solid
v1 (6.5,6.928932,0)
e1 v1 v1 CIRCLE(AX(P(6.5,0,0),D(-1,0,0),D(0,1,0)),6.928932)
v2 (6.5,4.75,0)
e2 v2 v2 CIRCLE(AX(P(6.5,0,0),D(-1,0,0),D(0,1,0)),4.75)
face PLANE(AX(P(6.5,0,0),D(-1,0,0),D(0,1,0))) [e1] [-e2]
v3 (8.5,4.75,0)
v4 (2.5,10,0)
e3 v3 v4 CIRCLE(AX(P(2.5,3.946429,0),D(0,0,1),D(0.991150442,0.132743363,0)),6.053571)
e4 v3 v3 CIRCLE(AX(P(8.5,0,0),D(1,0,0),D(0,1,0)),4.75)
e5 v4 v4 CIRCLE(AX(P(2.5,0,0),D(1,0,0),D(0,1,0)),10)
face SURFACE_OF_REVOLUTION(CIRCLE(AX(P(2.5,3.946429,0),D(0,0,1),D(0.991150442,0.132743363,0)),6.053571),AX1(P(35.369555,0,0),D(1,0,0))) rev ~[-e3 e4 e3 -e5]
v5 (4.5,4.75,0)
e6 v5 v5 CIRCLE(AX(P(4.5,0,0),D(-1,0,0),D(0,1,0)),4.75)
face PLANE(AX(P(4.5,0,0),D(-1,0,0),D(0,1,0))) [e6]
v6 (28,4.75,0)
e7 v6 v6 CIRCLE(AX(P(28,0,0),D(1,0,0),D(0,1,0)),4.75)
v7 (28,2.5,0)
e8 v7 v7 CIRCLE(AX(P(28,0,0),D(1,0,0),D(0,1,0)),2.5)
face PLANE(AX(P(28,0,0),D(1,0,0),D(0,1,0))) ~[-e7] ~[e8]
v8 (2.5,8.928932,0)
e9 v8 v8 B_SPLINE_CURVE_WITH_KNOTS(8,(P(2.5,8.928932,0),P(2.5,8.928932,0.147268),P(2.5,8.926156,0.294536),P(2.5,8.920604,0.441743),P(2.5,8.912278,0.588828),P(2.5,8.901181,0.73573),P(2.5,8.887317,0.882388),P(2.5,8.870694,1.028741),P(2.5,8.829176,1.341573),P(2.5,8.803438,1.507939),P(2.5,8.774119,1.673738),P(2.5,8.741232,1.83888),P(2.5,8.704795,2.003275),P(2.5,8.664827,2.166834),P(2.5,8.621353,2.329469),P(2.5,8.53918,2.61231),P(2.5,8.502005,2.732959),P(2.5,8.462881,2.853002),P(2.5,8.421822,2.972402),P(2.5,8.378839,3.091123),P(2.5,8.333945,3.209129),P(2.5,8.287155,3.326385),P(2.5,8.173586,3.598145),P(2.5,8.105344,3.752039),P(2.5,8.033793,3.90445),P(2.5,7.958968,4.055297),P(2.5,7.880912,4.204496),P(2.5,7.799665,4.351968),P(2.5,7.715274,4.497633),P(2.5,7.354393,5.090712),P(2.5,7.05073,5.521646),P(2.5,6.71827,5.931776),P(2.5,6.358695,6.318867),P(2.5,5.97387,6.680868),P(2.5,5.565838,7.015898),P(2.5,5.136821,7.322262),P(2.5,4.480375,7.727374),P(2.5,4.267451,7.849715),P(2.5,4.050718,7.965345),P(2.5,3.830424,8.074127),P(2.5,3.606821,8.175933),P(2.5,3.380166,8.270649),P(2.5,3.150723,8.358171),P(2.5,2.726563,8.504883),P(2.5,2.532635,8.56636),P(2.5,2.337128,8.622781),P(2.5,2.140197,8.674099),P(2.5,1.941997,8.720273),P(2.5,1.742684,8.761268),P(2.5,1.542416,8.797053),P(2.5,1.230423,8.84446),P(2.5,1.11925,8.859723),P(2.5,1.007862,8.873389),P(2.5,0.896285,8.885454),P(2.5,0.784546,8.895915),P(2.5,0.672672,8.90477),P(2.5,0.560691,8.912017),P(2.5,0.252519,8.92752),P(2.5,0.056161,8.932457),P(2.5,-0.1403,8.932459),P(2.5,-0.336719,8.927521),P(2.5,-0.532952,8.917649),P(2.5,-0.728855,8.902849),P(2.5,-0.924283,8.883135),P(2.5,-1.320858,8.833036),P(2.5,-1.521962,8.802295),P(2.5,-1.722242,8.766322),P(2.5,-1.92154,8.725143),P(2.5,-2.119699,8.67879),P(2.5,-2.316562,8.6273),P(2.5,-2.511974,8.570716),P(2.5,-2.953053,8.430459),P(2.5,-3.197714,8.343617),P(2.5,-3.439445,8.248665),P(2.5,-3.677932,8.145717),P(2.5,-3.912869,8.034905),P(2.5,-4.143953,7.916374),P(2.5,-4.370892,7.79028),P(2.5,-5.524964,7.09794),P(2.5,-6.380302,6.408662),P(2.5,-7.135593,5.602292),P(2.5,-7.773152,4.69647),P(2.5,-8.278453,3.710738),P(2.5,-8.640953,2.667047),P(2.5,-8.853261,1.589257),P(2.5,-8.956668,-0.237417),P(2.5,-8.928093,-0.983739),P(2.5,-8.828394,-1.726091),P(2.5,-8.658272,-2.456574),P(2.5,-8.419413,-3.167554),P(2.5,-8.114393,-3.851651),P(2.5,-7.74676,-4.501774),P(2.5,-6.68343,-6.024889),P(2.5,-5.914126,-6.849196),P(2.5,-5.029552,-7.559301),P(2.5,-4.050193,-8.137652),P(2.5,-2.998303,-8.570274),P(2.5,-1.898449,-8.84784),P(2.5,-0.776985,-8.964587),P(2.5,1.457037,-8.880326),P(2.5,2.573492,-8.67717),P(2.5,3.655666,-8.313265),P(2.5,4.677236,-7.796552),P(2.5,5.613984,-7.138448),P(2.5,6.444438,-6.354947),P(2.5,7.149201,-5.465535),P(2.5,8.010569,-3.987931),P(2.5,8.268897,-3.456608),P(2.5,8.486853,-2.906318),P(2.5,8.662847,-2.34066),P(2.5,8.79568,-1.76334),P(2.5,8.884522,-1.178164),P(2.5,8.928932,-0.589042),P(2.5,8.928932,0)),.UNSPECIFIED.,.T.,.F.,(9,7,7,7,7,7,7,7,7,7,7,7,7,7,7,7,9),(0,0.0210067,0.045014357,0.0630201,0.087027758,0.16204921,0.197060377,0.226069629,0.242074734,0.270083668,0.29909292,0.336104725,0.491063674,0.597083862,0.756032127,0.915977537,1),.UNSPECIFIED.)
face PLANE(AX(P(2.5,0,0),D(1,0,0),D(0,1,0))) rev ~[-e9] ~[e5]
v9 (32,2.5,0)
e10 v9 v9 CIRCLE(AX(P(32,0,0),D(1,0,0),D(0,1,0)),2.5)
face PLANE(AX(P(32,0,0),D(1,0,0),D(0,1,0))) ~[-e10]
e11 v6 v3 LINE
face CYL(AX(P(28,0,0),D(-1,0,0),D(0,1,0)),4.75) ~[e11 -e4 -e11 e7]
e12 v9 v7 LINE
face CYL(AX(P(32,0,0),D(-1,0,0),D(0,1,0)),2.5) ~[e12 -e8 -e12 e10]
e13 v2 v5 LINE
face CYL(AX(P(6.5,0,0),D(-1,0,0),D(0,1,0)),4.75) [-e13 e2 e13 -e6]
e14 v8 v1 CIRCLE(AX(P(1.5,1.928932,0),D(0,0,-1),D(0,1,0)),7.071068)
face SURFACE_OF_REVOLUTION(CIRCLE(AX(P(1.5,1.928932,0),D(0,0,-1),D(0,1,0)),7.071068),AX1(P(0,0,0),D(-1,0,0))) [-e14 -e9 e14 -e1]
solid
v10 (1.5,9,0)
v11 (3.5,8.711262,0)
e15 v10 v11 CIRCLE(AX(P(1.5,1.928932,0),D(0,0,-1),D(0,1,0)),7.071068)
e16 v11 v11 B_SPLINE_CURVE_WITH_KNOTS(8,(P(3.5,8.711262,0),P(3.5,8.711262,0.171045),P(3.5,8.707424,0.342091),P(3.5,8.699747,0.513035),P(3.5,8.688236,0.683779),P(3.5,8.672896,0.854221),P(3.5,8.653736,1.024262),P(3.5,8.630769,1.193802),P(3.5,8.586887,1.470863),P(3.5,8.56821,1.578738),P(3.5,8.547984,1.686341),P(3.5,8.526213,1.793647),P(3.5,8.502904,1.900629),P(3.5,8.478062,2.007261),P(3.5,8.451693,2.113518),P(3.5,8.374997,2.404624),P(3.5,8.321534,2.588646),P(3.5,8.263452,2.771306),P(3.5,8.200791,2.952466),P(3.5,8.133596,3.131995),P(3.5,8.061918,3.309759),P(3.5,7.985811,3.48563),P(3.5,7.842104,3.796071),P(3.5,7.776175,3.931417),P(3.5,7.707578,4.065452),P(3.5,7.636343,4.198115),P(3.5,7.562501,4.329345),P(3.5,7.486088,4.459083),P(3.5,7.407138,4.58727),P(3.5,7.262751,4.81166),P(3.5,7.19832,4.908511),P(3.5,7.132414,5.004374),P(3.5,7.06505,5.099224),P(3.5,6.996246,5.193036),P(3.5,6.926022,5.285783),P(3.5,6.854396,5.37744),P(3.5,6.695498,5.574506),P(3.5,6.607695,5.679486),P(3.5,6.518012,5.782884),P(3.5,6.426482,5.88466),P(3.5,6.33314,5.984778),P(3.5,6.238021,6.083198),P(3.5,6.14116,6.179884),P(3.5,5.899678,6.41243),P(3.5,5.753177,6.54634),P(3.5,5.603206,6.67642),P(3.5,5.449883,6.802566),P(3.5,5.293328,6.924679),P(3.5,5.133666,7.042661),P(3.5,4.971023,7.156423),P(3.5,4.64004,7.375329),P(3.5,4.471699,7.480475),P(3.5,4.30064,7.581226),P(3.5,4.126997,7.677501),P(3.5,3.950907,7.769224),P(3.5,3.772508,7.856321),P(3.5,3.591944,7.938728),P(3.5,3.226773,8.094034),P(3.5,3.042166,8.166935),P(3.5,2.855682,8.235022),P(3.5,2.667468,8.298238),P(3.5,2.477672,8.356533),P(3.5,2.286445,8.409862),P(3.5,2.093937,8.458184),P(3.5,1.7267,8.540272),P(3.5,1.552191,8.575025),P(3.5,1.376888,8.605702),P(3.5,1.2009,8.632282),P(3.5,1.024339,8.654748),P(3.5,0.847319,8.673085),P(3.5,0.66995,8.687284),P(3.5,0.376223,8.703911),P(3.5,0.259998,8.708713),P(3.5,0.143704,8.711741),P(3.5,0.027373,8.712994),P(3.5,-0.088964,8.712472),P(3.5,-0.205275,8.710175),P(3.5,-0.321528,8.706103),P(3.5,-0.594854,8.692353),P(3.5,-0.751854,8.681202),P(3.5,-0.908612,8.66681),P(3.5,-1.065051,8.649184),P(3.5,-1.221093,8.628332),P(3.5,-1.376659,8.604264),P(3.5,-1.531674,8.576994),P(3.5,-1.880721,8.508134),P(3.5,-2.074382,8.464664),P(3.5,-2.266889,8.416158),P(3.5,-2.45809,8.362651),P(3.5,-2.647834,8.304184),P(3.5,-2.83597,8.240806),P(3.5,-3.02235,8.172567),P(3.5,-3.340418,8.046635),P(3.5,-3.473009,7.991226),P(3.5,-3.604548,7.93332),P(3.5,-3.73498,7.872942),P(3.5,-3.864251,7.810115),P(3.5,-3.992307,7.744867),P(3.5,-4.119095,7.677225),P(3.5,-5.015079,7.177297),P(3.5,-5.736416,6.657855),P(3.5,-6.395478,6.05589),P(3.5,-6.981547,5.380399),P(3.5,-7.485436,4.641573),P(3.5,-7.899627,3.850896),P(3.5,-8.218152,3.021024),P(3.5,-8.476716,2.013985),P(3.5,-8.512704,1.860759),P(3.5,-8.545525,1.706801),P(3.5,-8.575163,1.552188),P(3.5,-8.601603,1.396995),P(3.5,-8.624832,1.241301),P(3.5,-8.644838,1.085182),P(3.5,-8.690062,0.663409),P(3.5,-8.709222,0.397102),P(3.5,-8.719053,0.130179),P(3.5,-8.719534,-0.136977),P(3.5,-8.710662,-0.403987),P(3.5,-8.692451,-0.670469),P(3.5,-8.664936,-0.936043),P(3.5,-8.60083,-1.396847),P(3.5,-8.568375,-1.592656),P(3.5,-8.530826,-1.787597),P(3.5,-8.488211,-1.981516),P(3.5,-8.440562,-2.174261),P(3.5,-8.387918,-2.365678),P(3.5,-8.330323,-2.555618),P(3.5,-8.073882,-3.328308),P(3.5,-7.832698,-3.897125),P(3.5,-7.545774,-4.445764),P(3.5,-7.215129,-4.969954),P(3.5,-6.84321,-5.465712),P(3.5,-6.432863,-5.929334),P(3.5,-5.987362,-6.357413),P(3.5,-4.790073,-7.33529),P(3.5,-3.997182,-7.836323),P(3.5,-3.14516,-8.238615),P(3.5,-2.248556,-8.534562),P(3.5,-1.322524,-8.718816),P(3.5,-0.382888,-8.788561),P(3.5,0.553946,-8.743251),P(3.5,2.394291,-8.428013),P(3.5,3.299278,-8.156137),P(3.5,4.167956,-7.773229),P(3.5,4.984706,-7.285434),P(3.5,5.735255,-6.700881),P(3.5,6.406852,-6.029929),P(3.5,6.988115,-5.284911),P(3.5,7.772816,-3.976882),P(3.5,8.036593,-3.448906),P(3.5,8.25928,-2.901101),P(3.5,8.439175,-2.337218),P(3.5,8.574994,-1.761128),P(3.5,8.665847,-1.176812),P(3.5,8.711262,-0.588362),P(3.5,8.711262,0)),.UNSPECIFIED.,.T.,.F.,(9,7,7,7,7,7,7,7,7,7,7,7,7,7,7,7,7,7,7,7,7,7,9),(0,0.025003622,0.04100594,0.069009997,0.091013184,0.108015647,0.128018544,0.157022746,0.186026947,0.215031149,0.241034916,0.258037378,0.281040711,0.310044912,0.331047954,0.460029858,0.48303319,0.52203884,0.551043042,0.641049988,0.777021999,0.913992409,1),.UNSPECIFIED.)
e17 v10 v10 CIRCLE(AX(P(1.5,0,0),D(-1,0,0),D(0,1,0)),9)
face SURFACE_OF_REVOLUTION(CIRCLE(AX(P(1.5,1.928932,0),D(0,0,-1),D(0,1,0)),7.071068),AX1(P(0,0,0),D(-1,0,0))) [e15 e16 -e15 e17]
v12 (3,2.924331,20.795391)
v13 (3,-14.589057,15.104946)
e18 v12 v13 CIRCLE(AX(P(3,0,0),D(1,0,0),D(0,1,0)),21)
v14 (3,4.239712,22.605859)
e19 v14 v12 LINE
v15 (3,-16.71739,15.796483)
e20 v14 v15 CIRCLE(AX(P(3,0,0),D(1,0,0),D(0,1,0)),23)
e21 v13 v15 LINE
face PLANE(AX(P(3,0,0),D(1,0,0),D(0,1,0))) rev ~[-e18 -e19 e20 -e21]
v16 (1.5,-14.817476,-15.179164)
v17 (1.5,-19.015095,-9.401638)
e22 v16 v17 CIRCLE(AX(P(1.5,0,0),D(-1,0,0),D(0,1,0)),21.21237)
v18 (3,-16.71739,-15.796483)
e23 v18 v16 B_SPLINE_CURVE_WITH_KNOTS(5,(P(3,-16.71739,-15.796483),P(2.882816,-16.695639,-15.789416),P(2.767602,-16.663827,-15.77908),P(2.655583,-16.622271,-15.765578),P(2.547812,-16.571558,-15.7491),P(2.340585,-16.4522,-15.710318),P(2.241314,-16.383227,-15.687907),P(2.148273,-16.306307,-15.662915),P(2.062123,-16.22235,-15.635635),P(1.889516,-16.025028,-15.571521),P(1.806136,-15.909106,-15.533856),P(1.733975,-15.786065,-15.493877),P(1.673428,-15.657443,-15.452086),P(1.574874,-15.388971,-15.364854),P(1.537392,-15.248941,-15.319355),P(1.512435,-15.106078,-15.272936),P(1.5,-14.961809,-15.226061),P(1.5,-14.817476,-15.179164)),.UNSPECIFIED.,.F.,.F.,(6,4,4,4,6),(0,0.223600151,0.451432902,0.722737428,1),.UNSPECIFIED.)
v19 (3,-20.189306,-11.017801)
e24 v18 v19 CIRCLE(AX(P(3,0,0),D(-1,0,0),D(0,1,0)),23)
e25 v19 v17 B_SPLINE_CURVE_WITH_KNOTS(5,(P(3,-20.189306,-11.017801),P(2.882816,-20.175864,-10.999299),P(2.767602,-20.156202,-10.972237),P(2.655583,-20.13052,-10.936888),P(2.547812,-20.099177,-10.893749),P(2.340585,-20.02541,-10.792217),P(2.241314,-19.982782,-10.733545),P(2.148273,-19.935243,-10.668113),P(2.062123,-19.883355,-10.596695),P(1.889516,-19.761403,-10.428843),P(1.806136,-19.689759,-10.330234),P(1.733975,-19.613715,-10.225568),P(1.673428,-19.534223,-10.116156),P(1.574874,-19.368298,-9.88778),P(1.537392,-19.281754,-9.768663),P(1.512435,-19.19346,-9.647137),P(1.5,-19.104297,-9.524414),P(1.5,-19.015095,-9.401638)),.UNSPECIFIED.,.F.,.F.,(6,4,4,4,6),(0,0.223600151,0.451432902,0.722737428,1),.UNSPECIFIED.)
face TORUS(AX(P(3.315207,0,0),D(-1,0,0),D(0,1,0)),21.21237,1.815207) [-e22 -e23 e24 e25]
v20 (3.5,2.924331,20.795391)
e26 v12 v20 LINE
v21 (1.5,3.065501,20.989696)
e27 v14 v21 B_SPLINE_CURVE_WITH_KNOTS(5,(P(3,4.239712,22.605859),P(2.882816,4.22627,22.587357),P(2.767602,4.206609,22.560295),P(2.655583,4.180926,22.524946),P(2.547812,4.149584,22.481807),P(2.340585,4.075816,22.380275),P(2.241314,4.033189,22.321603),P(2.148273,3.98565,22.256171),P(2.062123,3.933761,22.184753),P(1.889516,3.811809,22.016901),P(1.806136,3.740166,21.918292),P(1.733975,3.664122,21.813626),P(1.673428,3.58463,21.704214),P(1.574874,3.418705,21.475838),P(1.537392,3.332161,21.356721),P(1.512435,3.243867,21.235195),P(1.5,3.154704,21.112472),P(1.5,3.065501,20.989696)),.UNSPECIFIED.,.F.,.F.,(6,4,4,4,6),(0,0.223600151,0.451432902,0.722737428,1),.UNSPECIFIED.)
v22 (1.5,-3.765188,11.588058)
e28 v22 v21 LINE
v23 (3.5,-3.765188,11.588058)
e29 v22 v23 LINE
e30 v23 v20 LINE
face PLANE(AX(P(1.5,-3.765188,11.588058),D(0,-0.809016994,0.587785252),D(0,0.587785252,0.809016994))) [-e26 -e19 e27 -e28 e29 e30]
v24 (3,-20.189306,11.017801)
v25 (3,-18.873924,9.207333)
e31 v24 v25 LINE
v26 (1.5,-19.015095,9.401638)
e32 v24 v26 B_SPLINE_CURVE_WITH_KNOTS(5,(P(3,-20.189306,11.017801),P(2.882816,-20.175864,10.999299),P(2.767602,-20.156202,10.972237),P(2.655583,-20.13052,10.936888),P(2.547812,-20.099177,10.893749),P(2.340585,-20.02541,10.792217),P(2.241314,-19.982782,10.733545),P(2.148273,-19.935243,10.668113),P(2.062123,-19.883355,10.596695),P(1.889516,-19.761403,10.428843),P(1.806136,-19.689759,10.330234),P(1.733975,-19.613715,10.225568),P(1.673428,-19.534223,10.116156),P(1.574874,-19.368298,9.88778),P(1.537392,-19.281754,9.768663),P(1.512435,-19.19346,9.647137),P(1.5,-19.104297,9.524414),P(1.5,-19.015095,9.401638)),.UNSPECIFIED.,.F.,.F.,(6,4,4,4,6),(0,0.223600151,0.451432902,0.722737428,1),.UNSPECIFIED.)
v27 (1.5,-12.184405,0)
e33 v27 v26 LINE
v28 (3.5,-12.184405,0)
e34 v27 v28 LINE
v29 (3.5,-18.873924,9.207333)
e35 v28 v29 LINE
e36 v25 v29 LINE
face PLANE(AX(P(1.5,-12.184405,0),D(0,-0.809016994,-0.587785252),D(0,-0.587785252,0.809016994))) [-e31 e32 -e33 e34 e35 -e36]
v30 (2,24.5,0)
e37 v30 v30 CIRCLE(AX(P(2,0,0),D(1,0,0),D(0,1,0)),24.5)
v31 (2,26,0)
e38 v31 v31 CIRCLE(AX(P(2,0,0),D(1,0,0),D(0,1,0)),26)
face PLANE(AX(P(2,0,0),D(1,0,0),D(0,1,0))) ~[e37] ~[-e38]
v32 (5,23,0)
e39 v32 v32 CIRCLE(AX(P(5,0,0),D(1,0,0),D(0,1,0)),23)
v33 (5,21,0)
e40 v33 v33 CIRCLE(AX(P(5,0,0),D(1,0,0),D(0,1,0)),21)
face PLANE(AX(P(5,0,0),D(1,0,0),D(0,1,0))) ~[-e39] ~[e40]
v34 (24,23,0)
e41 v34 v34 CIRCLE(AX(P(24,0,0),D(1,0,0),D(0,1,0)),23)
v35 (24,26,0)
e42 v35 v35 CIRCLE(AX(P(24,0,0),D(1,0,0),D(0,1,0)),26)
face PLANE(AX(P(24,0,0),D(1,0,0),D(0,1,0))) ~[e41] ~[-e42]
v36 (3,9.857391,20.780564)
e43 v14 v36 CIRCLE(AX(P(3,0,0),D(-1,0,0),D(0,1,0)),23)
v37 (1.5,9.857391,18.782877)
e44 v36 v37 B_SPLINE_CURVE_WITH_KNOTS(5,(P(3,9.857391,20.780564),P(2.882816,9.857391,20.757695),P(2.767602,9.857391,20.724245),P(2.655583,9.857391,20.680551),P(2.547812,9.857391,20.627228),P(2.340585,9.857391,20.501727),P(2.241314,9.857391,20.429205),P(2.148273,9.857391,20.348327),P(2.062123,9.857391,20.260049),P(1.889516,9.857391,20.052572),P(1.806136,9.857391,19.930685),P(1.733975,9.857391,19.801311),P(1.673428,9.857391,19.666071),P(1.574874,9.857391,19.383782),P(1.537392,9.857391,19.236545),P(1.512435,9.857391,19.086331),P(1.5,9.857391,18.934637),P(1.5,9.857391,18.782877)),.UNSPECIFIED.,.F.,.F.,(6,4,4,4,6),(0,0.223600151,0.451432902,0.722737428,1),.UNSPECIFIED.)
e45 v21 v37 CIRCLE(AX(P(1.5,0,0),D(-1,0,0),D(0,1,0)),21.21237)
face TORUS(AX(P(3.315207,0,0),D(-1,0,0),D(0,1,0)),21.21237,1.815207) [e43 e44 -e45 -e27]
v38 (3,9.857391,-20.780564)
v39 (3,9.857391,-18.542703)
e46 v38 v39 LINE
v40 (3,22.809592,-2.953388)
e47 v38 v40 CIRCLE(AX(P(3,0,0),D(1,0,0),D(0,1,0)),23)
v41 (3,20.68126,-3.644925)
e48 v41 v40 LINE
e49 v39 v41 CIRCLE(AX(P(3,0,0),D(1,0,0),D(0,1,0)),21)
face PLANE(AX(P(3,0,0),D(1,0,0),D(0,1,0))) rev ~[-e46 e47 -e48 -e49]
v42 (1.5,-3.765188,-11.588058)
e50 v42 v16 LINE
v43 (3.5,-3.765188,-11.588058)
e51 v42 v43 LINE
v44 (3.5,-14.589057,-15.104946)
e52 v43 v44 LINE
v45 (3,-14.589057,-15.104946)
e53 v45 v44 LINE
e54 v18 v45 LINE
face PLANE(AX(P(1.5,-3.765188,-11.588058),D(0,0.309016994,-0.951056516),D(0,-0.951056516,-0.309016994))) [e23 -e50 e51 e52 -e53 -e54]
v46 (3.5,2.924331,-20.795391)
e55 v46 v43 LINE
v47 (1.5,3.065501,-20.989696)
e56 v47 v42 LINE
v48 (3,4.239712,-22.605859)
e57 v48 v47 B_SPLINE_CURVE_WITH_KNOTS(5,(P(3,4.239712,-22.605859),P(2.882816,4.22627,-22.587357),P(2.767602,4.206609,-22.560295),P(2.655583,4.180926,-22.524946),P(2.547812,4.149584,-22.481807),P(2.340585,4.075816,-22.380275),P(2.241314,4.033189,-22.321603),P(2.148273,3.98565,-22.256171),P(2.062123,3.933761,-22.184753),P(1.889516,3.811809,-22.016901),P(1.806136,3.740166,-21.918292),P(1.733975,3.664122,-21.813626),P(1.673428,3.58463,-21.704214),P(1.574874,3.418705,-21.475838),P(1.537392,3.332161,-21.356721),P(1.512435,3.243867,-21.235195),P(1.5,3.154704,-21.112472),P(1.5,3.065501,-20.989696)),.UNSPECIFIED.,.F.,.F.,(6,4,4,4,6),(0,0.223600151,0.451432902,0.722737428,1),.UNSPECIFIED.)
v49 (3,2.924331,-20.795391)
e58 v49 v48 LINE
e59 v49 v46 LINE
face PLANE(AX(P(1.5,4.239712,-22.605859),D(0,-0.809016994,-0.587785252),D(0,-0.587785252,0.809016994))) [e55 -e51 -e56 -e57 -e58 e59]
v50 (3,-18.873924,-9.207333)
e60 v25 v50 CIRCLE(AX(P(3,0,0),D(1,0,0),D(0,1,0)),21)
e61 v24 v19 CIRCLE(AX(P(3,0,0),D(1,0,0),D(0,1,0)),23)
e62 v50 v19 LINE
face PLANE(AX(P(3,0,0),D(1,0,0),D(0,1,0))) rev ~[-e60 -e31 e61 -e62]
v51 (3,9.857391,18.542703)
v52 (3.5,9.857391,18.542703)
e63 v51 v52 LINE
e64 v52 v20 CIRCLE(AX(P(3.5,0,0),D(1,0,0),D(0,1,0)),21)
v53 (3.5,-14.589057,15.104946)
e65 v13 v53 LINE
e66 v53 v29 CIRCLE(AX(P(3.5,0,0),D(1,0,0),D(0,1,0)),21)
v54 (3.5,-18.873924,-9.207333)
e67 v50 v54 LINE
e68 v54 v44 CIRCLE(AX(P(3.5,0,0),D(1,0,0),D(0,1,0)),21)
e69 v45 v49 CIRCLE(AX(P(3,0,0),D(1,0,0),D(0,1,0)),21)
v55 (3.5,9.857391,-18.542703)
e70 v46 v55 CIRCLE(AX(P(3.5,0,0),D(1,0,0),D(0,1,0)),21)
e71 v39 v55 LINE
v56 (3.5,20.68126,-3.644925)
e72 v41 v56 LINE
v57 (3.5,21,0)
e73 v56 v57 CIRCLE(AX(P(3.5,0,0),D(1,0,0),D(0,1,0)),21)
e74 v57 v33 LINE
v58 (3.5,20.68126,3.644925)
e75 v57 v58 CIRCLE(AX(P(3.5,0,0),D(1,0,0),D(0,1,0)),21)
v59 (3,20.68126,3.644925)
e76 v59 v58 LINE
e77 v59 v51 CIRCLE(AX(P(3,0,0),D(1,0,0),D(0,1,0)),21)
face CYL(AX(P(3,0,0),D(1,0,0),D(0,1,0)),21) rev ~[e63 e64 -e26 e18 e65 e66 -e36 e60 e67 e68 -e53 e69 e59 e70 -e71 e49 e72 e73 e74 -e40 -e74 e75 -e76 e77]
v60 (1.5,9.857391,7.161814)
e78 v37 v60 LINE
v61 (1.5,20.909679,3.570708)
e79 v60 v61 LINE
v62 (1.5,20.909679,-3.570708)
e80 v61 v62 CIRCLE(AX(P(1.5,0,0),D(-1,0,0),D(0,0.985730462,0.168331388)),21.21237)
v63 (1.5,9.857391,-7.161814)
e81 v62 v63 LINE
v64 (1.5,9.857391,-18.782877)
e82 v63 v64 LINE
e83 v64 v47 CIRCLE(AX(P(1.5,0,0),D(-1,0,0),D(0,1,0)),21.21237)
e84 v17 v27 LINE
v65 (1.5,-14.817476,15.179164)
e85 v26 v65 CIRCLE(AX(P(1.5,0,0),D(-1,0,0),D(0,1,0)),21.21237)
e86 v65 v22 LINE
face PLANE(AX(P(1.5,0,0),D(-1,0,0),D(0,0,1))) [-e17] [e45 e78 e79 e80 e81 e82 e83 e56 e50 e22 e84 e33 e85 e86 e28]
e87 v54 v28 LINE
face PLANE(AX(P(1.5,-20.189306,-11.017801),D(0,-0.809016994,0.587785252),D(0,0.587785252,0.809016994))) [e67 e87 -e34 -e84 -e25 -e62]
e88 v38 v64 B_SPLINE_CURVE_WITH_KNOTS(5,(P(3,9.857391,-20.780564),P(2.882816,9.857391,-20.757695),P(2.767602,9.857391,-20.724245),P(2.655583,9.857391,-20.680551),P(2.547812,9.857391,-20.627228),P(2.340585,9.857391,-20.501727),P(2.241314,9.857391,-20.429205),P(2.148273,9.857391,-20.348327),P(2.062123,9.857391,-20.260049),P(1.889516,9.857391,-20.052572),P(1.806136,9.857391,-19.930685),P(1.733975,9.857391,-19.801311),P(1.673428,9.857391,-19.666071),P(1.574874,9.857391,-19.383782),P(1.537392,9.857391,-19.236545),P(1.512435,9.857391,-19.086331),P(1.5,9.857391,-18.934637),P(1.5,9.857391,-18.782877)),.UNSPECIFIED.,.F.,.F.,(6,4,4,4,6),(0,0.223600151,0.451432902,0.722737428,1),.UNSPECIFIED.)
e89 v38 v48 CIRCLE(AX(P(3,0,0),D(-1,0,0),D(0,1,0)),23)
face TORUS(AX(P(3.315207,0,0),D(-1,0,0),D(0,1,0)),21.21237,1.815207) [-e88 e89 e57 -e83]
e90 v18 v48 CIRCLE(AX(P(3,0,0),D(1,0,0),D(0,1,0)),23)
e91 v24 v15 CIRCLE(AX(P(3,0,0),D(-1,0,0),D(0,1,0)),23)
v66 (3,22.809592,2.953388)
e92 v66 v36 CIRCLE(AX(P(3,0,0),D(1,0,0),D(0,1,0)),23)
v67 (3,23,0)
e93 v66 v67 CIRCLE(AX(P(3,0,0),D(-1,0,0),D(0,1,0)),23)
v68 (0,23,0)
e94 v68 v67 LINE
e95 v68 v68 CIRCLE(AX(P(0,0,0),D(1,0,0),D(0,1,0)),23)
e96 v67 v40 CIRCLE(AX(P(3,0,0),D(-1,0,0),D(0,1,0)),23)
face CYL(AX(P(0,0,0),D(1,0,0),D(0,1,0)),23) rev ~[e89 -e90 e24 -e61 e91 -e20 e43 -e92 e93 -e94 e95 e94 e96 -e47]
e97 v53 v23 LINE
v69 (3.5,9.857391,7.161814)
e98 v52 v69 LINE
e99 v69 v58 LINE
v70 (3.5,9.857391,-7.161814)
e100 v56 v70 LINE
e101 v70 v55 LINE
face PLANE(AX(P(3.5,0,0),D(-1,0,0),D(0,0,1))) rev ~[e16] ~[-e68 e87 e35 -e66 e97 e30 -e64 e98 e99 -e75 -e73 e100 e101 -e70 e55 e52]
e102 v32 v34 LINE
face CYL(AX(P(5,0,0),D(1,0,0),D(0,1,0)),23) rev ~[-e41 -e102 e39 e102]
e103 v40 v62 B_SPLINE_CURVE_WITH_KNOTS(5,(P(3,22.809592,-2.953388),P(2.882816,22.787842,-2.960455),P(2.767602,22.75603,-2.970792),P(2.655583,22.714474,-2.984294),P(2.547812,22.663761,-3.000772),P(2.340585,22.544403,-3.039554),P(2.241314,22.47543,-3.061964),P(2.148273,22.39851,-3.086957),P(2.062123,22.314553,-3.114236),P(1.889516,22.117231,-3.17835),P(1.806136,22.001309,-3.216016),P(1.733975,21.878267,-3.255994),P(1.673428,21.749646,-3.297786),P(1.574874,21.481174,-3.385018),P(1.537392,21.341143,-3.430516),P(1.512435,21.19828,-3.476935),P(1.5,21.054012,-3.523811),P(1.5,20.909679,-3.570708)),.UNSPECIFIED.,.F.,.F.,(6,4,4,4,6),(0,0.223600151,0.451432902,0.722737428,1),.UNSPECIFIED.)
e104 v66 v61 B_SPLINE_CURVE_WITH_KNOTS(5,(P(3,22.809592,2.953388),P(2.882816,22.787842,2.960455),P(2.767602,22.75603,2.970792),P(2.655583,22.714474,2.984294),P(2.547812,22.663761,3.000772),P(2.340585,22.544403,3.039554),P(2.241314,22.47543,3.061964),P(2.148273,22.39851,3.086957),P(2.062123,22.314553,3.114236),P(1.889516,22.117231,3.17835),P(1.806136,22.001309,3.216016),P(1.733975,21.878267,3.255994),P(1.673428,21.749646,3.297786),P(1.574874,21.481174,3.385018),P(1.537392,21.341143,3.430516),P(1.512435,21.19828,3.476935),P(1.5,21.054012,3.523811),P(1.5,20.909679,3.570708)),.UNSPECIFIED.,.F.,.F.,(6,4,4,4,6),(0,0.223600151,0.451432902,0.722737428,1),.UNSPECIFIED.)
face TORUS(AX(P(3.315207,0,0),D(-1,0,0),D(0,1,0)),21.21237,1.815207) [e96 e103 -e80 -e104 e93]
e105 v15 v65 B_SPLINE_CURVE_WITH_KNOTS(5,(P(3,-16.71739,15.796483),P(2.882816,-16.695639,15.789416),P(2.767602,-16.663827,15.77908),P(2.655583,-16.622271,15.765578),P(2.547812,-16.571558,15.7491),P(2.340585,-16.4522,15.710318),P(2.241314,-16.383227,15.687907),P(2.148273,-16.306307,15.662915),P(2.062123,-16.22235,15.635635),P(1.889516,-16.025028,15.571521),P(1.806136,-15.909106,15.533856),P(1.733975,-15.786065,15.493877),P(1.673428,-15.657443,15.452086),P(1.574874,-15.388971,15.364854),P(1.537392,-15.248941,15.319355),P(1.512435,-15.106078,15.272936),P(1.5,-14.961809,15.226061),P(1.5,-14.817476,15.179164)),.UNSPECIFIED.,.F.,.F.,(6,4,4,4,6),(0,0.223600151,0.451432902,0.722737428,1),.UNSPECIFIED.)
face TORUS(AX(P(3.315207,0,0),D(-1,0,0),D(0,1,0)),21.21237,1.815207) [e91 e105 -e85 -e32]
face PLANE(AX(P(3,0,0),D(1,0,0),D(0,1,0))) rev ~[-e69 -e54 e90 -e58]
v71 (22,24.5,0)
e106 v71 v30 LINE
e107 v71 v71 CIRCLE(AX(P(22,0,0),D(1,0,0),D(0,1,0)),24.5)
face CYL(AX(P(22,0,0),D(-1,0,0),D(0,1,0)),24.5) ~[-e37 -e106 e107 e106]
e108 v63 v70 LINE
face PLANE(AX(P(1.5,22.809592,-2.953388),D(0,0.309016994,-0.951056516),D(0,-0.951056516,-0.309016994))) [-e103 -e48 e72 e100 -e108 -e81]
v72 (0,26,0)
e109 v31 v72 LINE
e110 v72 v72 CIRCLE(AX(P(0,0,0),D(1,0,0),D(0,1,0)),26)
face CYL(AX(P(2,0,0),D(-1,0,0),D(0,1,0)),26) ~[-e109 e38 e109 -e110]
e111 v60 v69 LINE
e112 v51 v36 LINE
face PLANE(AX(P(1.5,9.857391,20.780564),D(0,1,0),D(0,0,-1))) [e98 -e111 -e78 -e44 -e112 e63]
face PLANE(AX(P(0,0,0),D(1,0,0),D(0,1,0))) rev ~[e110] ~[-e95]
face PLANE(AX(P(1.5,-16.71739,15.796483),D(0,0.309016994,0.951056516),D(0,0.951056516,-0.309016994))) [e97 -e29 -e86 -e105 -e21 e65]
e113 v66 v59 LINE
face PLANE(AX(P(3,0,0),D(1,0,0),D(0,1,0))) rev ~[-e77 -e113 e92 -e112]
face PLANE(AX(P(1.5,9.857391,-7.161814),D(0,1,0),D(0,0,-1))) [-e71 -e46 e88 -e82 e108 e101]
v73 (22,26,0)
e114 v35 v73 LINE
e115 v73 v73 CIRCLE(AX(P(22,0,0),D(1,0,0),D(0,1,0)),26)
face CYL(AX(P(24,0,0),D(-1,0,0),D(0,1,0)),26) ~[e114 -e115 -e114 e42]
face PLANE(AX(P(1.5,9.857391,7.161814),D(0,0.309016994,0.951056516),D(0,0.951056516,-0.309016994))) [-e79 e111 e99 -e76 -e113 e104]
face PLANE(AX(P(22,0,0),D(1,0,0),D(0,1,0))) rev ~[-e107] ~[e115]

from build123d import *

# Parameters (mm, degrees)
RESSALTO_EXTRUS_O1_DEPTH = 2


with BuildPart() as part:
    # Esboço1 → Revolução1 (revolve)
    with BuildSketch(Plane.XY):
        Polygon((0, 26), (0, 23), (3, 23), (3, 21), (5, 21), (5, 23), (24, 23), (24, 26), (22, 26), (22, 24.5), (2, 24.5), (2, 26), align=None)
    revolve(axis=Axis((0, 0, 0), (1, 0, 0)))

    # Esboço2 → Ressalto-extrusão1 (add)
    with BuildSketch(Plane(origin=(1.5, 0, 0), x_dir=(0, 0, -1), z_dir=(1, 0, 0))):
        with BuildLine():
            Line((2.953388355, 22.80959222), (7.161813683, 9.857390871))
            Line((7.161813683, 9.857390871), (20.780564122, 9.857390871))
            ThreePointArc((20.780564122, 9.857390871), (21.874299875, 7.107390871), (22.605858507, 4.239712391))
            Line((22.605858507, 4.239712391), (11.58805796, -3.765188272))
            Line((11.58805796, -3.765188272), (15.796483288, -16.717389621))
            ThreePointArc((15.796483288, -16.717389621), (13.519060803, -18.607390871), (11.017800547, -20.18930586))
            Line((11.017800547, -20.18930586), (0, -12.184405197))
            Line((0, -12.184405197), (-11.017800547, -20.18930586))
            ThreePointArc((-11.017800547, -20.18930586), (-13.519060803, -18.607390871), (-15.796483288, -16.717389621))
            Line((-15.796483288, -16.717389621), (-11.58805796, -3.765188272))
            Line((-11.58805796, -3.765188272), (-22.605858507, 4.239712391))
            ThreePointArc((-22.605858507, 4.239712391), (-21.874299875, 7.107390871), (-20.780564122, 9.857390871))
            Line((-20.780564122, 9.857390871), (-7.161813683, 9.857390871))
            Line((-7.161813683, 9.857390871), (-2.953388355, 22.80959222))
            ThreePointArc((-2.953388355, 22.80959222), (0, 23), (2.953388355, 22.80959222))
        make_face()
    extrude(amount=RESSALTO_EXTRUS_O1_DEPTH)


with BuildPart() as body_2:
    # Esboço4 → Revolução2 (revolve)
    with BuildSketch(Plane.XY):
        with BuildLine():
            Line((28, 4.75), (8.5, 4.75))
            ThreePointArc((8.5, 4.75), (6.48630468, 8.502205348), (2.5, 10))
            Line((2.5, 10), (2.5, 0))
            Line((2.5, 0), (32, 0))
            Line((32, 0), (32, 2.5))
            Line((32, 2.5), (28, 2.5))
            Line((28, 2.5), (28, 4.75))
        make_face()
    revolve(axis=Axis((35.369555181, 0, 0), (1, 0, 0)))


with BuildPart() as corte_revolu_o1_tool:
    # Esboço3 → Corte-Revolução1 (revolve)
    with BuildSketch(Plane.XY):
        with BuildLine():
            Line((1.5, 21.212369611), (1.5, 23))
            Line((1.5, 23), (3, 23))
            ThreePointArc((3, 23), (1.924677874, 22.379162481), (1.5, 21.212369611))
        make_face()
        with BuildLine():
            Line((4.5, 4.75), (4.5, 0))
            Line((4.5, 0), (1.5, 0))
            Line((1.5, 0), (1.5, 9))
            ThreePointArc((1.5, 9), (4.205980501, 8.461747013), (6.5, 6.928932188))
            Line((6.5, 6.928932188), (6.5, 4.75))
            Line((6.5, 4.75), (4.5, 4.75))
        make_face()
    revolve(axis=Axis((0, 0, 0), (-1, 0, 0)))


with BuildPart() as part_1:
    add(part.part)

    # Corte-Revolução1: cut by corte_revolu_o1_tool
    add(corte_revolu_o1_tool.part, mode=Mode.SUBTRACT)


with BuildPart() as body_2_1:
    add(body_2.part)

    # Corte-Revolução1: cut by corte_revolu_o1_tool
    add(corte_revolu_o1_tool.part, mode=Mode.SUBTRACT)


solid = Compound([part_1.part, body_2_1.part])
